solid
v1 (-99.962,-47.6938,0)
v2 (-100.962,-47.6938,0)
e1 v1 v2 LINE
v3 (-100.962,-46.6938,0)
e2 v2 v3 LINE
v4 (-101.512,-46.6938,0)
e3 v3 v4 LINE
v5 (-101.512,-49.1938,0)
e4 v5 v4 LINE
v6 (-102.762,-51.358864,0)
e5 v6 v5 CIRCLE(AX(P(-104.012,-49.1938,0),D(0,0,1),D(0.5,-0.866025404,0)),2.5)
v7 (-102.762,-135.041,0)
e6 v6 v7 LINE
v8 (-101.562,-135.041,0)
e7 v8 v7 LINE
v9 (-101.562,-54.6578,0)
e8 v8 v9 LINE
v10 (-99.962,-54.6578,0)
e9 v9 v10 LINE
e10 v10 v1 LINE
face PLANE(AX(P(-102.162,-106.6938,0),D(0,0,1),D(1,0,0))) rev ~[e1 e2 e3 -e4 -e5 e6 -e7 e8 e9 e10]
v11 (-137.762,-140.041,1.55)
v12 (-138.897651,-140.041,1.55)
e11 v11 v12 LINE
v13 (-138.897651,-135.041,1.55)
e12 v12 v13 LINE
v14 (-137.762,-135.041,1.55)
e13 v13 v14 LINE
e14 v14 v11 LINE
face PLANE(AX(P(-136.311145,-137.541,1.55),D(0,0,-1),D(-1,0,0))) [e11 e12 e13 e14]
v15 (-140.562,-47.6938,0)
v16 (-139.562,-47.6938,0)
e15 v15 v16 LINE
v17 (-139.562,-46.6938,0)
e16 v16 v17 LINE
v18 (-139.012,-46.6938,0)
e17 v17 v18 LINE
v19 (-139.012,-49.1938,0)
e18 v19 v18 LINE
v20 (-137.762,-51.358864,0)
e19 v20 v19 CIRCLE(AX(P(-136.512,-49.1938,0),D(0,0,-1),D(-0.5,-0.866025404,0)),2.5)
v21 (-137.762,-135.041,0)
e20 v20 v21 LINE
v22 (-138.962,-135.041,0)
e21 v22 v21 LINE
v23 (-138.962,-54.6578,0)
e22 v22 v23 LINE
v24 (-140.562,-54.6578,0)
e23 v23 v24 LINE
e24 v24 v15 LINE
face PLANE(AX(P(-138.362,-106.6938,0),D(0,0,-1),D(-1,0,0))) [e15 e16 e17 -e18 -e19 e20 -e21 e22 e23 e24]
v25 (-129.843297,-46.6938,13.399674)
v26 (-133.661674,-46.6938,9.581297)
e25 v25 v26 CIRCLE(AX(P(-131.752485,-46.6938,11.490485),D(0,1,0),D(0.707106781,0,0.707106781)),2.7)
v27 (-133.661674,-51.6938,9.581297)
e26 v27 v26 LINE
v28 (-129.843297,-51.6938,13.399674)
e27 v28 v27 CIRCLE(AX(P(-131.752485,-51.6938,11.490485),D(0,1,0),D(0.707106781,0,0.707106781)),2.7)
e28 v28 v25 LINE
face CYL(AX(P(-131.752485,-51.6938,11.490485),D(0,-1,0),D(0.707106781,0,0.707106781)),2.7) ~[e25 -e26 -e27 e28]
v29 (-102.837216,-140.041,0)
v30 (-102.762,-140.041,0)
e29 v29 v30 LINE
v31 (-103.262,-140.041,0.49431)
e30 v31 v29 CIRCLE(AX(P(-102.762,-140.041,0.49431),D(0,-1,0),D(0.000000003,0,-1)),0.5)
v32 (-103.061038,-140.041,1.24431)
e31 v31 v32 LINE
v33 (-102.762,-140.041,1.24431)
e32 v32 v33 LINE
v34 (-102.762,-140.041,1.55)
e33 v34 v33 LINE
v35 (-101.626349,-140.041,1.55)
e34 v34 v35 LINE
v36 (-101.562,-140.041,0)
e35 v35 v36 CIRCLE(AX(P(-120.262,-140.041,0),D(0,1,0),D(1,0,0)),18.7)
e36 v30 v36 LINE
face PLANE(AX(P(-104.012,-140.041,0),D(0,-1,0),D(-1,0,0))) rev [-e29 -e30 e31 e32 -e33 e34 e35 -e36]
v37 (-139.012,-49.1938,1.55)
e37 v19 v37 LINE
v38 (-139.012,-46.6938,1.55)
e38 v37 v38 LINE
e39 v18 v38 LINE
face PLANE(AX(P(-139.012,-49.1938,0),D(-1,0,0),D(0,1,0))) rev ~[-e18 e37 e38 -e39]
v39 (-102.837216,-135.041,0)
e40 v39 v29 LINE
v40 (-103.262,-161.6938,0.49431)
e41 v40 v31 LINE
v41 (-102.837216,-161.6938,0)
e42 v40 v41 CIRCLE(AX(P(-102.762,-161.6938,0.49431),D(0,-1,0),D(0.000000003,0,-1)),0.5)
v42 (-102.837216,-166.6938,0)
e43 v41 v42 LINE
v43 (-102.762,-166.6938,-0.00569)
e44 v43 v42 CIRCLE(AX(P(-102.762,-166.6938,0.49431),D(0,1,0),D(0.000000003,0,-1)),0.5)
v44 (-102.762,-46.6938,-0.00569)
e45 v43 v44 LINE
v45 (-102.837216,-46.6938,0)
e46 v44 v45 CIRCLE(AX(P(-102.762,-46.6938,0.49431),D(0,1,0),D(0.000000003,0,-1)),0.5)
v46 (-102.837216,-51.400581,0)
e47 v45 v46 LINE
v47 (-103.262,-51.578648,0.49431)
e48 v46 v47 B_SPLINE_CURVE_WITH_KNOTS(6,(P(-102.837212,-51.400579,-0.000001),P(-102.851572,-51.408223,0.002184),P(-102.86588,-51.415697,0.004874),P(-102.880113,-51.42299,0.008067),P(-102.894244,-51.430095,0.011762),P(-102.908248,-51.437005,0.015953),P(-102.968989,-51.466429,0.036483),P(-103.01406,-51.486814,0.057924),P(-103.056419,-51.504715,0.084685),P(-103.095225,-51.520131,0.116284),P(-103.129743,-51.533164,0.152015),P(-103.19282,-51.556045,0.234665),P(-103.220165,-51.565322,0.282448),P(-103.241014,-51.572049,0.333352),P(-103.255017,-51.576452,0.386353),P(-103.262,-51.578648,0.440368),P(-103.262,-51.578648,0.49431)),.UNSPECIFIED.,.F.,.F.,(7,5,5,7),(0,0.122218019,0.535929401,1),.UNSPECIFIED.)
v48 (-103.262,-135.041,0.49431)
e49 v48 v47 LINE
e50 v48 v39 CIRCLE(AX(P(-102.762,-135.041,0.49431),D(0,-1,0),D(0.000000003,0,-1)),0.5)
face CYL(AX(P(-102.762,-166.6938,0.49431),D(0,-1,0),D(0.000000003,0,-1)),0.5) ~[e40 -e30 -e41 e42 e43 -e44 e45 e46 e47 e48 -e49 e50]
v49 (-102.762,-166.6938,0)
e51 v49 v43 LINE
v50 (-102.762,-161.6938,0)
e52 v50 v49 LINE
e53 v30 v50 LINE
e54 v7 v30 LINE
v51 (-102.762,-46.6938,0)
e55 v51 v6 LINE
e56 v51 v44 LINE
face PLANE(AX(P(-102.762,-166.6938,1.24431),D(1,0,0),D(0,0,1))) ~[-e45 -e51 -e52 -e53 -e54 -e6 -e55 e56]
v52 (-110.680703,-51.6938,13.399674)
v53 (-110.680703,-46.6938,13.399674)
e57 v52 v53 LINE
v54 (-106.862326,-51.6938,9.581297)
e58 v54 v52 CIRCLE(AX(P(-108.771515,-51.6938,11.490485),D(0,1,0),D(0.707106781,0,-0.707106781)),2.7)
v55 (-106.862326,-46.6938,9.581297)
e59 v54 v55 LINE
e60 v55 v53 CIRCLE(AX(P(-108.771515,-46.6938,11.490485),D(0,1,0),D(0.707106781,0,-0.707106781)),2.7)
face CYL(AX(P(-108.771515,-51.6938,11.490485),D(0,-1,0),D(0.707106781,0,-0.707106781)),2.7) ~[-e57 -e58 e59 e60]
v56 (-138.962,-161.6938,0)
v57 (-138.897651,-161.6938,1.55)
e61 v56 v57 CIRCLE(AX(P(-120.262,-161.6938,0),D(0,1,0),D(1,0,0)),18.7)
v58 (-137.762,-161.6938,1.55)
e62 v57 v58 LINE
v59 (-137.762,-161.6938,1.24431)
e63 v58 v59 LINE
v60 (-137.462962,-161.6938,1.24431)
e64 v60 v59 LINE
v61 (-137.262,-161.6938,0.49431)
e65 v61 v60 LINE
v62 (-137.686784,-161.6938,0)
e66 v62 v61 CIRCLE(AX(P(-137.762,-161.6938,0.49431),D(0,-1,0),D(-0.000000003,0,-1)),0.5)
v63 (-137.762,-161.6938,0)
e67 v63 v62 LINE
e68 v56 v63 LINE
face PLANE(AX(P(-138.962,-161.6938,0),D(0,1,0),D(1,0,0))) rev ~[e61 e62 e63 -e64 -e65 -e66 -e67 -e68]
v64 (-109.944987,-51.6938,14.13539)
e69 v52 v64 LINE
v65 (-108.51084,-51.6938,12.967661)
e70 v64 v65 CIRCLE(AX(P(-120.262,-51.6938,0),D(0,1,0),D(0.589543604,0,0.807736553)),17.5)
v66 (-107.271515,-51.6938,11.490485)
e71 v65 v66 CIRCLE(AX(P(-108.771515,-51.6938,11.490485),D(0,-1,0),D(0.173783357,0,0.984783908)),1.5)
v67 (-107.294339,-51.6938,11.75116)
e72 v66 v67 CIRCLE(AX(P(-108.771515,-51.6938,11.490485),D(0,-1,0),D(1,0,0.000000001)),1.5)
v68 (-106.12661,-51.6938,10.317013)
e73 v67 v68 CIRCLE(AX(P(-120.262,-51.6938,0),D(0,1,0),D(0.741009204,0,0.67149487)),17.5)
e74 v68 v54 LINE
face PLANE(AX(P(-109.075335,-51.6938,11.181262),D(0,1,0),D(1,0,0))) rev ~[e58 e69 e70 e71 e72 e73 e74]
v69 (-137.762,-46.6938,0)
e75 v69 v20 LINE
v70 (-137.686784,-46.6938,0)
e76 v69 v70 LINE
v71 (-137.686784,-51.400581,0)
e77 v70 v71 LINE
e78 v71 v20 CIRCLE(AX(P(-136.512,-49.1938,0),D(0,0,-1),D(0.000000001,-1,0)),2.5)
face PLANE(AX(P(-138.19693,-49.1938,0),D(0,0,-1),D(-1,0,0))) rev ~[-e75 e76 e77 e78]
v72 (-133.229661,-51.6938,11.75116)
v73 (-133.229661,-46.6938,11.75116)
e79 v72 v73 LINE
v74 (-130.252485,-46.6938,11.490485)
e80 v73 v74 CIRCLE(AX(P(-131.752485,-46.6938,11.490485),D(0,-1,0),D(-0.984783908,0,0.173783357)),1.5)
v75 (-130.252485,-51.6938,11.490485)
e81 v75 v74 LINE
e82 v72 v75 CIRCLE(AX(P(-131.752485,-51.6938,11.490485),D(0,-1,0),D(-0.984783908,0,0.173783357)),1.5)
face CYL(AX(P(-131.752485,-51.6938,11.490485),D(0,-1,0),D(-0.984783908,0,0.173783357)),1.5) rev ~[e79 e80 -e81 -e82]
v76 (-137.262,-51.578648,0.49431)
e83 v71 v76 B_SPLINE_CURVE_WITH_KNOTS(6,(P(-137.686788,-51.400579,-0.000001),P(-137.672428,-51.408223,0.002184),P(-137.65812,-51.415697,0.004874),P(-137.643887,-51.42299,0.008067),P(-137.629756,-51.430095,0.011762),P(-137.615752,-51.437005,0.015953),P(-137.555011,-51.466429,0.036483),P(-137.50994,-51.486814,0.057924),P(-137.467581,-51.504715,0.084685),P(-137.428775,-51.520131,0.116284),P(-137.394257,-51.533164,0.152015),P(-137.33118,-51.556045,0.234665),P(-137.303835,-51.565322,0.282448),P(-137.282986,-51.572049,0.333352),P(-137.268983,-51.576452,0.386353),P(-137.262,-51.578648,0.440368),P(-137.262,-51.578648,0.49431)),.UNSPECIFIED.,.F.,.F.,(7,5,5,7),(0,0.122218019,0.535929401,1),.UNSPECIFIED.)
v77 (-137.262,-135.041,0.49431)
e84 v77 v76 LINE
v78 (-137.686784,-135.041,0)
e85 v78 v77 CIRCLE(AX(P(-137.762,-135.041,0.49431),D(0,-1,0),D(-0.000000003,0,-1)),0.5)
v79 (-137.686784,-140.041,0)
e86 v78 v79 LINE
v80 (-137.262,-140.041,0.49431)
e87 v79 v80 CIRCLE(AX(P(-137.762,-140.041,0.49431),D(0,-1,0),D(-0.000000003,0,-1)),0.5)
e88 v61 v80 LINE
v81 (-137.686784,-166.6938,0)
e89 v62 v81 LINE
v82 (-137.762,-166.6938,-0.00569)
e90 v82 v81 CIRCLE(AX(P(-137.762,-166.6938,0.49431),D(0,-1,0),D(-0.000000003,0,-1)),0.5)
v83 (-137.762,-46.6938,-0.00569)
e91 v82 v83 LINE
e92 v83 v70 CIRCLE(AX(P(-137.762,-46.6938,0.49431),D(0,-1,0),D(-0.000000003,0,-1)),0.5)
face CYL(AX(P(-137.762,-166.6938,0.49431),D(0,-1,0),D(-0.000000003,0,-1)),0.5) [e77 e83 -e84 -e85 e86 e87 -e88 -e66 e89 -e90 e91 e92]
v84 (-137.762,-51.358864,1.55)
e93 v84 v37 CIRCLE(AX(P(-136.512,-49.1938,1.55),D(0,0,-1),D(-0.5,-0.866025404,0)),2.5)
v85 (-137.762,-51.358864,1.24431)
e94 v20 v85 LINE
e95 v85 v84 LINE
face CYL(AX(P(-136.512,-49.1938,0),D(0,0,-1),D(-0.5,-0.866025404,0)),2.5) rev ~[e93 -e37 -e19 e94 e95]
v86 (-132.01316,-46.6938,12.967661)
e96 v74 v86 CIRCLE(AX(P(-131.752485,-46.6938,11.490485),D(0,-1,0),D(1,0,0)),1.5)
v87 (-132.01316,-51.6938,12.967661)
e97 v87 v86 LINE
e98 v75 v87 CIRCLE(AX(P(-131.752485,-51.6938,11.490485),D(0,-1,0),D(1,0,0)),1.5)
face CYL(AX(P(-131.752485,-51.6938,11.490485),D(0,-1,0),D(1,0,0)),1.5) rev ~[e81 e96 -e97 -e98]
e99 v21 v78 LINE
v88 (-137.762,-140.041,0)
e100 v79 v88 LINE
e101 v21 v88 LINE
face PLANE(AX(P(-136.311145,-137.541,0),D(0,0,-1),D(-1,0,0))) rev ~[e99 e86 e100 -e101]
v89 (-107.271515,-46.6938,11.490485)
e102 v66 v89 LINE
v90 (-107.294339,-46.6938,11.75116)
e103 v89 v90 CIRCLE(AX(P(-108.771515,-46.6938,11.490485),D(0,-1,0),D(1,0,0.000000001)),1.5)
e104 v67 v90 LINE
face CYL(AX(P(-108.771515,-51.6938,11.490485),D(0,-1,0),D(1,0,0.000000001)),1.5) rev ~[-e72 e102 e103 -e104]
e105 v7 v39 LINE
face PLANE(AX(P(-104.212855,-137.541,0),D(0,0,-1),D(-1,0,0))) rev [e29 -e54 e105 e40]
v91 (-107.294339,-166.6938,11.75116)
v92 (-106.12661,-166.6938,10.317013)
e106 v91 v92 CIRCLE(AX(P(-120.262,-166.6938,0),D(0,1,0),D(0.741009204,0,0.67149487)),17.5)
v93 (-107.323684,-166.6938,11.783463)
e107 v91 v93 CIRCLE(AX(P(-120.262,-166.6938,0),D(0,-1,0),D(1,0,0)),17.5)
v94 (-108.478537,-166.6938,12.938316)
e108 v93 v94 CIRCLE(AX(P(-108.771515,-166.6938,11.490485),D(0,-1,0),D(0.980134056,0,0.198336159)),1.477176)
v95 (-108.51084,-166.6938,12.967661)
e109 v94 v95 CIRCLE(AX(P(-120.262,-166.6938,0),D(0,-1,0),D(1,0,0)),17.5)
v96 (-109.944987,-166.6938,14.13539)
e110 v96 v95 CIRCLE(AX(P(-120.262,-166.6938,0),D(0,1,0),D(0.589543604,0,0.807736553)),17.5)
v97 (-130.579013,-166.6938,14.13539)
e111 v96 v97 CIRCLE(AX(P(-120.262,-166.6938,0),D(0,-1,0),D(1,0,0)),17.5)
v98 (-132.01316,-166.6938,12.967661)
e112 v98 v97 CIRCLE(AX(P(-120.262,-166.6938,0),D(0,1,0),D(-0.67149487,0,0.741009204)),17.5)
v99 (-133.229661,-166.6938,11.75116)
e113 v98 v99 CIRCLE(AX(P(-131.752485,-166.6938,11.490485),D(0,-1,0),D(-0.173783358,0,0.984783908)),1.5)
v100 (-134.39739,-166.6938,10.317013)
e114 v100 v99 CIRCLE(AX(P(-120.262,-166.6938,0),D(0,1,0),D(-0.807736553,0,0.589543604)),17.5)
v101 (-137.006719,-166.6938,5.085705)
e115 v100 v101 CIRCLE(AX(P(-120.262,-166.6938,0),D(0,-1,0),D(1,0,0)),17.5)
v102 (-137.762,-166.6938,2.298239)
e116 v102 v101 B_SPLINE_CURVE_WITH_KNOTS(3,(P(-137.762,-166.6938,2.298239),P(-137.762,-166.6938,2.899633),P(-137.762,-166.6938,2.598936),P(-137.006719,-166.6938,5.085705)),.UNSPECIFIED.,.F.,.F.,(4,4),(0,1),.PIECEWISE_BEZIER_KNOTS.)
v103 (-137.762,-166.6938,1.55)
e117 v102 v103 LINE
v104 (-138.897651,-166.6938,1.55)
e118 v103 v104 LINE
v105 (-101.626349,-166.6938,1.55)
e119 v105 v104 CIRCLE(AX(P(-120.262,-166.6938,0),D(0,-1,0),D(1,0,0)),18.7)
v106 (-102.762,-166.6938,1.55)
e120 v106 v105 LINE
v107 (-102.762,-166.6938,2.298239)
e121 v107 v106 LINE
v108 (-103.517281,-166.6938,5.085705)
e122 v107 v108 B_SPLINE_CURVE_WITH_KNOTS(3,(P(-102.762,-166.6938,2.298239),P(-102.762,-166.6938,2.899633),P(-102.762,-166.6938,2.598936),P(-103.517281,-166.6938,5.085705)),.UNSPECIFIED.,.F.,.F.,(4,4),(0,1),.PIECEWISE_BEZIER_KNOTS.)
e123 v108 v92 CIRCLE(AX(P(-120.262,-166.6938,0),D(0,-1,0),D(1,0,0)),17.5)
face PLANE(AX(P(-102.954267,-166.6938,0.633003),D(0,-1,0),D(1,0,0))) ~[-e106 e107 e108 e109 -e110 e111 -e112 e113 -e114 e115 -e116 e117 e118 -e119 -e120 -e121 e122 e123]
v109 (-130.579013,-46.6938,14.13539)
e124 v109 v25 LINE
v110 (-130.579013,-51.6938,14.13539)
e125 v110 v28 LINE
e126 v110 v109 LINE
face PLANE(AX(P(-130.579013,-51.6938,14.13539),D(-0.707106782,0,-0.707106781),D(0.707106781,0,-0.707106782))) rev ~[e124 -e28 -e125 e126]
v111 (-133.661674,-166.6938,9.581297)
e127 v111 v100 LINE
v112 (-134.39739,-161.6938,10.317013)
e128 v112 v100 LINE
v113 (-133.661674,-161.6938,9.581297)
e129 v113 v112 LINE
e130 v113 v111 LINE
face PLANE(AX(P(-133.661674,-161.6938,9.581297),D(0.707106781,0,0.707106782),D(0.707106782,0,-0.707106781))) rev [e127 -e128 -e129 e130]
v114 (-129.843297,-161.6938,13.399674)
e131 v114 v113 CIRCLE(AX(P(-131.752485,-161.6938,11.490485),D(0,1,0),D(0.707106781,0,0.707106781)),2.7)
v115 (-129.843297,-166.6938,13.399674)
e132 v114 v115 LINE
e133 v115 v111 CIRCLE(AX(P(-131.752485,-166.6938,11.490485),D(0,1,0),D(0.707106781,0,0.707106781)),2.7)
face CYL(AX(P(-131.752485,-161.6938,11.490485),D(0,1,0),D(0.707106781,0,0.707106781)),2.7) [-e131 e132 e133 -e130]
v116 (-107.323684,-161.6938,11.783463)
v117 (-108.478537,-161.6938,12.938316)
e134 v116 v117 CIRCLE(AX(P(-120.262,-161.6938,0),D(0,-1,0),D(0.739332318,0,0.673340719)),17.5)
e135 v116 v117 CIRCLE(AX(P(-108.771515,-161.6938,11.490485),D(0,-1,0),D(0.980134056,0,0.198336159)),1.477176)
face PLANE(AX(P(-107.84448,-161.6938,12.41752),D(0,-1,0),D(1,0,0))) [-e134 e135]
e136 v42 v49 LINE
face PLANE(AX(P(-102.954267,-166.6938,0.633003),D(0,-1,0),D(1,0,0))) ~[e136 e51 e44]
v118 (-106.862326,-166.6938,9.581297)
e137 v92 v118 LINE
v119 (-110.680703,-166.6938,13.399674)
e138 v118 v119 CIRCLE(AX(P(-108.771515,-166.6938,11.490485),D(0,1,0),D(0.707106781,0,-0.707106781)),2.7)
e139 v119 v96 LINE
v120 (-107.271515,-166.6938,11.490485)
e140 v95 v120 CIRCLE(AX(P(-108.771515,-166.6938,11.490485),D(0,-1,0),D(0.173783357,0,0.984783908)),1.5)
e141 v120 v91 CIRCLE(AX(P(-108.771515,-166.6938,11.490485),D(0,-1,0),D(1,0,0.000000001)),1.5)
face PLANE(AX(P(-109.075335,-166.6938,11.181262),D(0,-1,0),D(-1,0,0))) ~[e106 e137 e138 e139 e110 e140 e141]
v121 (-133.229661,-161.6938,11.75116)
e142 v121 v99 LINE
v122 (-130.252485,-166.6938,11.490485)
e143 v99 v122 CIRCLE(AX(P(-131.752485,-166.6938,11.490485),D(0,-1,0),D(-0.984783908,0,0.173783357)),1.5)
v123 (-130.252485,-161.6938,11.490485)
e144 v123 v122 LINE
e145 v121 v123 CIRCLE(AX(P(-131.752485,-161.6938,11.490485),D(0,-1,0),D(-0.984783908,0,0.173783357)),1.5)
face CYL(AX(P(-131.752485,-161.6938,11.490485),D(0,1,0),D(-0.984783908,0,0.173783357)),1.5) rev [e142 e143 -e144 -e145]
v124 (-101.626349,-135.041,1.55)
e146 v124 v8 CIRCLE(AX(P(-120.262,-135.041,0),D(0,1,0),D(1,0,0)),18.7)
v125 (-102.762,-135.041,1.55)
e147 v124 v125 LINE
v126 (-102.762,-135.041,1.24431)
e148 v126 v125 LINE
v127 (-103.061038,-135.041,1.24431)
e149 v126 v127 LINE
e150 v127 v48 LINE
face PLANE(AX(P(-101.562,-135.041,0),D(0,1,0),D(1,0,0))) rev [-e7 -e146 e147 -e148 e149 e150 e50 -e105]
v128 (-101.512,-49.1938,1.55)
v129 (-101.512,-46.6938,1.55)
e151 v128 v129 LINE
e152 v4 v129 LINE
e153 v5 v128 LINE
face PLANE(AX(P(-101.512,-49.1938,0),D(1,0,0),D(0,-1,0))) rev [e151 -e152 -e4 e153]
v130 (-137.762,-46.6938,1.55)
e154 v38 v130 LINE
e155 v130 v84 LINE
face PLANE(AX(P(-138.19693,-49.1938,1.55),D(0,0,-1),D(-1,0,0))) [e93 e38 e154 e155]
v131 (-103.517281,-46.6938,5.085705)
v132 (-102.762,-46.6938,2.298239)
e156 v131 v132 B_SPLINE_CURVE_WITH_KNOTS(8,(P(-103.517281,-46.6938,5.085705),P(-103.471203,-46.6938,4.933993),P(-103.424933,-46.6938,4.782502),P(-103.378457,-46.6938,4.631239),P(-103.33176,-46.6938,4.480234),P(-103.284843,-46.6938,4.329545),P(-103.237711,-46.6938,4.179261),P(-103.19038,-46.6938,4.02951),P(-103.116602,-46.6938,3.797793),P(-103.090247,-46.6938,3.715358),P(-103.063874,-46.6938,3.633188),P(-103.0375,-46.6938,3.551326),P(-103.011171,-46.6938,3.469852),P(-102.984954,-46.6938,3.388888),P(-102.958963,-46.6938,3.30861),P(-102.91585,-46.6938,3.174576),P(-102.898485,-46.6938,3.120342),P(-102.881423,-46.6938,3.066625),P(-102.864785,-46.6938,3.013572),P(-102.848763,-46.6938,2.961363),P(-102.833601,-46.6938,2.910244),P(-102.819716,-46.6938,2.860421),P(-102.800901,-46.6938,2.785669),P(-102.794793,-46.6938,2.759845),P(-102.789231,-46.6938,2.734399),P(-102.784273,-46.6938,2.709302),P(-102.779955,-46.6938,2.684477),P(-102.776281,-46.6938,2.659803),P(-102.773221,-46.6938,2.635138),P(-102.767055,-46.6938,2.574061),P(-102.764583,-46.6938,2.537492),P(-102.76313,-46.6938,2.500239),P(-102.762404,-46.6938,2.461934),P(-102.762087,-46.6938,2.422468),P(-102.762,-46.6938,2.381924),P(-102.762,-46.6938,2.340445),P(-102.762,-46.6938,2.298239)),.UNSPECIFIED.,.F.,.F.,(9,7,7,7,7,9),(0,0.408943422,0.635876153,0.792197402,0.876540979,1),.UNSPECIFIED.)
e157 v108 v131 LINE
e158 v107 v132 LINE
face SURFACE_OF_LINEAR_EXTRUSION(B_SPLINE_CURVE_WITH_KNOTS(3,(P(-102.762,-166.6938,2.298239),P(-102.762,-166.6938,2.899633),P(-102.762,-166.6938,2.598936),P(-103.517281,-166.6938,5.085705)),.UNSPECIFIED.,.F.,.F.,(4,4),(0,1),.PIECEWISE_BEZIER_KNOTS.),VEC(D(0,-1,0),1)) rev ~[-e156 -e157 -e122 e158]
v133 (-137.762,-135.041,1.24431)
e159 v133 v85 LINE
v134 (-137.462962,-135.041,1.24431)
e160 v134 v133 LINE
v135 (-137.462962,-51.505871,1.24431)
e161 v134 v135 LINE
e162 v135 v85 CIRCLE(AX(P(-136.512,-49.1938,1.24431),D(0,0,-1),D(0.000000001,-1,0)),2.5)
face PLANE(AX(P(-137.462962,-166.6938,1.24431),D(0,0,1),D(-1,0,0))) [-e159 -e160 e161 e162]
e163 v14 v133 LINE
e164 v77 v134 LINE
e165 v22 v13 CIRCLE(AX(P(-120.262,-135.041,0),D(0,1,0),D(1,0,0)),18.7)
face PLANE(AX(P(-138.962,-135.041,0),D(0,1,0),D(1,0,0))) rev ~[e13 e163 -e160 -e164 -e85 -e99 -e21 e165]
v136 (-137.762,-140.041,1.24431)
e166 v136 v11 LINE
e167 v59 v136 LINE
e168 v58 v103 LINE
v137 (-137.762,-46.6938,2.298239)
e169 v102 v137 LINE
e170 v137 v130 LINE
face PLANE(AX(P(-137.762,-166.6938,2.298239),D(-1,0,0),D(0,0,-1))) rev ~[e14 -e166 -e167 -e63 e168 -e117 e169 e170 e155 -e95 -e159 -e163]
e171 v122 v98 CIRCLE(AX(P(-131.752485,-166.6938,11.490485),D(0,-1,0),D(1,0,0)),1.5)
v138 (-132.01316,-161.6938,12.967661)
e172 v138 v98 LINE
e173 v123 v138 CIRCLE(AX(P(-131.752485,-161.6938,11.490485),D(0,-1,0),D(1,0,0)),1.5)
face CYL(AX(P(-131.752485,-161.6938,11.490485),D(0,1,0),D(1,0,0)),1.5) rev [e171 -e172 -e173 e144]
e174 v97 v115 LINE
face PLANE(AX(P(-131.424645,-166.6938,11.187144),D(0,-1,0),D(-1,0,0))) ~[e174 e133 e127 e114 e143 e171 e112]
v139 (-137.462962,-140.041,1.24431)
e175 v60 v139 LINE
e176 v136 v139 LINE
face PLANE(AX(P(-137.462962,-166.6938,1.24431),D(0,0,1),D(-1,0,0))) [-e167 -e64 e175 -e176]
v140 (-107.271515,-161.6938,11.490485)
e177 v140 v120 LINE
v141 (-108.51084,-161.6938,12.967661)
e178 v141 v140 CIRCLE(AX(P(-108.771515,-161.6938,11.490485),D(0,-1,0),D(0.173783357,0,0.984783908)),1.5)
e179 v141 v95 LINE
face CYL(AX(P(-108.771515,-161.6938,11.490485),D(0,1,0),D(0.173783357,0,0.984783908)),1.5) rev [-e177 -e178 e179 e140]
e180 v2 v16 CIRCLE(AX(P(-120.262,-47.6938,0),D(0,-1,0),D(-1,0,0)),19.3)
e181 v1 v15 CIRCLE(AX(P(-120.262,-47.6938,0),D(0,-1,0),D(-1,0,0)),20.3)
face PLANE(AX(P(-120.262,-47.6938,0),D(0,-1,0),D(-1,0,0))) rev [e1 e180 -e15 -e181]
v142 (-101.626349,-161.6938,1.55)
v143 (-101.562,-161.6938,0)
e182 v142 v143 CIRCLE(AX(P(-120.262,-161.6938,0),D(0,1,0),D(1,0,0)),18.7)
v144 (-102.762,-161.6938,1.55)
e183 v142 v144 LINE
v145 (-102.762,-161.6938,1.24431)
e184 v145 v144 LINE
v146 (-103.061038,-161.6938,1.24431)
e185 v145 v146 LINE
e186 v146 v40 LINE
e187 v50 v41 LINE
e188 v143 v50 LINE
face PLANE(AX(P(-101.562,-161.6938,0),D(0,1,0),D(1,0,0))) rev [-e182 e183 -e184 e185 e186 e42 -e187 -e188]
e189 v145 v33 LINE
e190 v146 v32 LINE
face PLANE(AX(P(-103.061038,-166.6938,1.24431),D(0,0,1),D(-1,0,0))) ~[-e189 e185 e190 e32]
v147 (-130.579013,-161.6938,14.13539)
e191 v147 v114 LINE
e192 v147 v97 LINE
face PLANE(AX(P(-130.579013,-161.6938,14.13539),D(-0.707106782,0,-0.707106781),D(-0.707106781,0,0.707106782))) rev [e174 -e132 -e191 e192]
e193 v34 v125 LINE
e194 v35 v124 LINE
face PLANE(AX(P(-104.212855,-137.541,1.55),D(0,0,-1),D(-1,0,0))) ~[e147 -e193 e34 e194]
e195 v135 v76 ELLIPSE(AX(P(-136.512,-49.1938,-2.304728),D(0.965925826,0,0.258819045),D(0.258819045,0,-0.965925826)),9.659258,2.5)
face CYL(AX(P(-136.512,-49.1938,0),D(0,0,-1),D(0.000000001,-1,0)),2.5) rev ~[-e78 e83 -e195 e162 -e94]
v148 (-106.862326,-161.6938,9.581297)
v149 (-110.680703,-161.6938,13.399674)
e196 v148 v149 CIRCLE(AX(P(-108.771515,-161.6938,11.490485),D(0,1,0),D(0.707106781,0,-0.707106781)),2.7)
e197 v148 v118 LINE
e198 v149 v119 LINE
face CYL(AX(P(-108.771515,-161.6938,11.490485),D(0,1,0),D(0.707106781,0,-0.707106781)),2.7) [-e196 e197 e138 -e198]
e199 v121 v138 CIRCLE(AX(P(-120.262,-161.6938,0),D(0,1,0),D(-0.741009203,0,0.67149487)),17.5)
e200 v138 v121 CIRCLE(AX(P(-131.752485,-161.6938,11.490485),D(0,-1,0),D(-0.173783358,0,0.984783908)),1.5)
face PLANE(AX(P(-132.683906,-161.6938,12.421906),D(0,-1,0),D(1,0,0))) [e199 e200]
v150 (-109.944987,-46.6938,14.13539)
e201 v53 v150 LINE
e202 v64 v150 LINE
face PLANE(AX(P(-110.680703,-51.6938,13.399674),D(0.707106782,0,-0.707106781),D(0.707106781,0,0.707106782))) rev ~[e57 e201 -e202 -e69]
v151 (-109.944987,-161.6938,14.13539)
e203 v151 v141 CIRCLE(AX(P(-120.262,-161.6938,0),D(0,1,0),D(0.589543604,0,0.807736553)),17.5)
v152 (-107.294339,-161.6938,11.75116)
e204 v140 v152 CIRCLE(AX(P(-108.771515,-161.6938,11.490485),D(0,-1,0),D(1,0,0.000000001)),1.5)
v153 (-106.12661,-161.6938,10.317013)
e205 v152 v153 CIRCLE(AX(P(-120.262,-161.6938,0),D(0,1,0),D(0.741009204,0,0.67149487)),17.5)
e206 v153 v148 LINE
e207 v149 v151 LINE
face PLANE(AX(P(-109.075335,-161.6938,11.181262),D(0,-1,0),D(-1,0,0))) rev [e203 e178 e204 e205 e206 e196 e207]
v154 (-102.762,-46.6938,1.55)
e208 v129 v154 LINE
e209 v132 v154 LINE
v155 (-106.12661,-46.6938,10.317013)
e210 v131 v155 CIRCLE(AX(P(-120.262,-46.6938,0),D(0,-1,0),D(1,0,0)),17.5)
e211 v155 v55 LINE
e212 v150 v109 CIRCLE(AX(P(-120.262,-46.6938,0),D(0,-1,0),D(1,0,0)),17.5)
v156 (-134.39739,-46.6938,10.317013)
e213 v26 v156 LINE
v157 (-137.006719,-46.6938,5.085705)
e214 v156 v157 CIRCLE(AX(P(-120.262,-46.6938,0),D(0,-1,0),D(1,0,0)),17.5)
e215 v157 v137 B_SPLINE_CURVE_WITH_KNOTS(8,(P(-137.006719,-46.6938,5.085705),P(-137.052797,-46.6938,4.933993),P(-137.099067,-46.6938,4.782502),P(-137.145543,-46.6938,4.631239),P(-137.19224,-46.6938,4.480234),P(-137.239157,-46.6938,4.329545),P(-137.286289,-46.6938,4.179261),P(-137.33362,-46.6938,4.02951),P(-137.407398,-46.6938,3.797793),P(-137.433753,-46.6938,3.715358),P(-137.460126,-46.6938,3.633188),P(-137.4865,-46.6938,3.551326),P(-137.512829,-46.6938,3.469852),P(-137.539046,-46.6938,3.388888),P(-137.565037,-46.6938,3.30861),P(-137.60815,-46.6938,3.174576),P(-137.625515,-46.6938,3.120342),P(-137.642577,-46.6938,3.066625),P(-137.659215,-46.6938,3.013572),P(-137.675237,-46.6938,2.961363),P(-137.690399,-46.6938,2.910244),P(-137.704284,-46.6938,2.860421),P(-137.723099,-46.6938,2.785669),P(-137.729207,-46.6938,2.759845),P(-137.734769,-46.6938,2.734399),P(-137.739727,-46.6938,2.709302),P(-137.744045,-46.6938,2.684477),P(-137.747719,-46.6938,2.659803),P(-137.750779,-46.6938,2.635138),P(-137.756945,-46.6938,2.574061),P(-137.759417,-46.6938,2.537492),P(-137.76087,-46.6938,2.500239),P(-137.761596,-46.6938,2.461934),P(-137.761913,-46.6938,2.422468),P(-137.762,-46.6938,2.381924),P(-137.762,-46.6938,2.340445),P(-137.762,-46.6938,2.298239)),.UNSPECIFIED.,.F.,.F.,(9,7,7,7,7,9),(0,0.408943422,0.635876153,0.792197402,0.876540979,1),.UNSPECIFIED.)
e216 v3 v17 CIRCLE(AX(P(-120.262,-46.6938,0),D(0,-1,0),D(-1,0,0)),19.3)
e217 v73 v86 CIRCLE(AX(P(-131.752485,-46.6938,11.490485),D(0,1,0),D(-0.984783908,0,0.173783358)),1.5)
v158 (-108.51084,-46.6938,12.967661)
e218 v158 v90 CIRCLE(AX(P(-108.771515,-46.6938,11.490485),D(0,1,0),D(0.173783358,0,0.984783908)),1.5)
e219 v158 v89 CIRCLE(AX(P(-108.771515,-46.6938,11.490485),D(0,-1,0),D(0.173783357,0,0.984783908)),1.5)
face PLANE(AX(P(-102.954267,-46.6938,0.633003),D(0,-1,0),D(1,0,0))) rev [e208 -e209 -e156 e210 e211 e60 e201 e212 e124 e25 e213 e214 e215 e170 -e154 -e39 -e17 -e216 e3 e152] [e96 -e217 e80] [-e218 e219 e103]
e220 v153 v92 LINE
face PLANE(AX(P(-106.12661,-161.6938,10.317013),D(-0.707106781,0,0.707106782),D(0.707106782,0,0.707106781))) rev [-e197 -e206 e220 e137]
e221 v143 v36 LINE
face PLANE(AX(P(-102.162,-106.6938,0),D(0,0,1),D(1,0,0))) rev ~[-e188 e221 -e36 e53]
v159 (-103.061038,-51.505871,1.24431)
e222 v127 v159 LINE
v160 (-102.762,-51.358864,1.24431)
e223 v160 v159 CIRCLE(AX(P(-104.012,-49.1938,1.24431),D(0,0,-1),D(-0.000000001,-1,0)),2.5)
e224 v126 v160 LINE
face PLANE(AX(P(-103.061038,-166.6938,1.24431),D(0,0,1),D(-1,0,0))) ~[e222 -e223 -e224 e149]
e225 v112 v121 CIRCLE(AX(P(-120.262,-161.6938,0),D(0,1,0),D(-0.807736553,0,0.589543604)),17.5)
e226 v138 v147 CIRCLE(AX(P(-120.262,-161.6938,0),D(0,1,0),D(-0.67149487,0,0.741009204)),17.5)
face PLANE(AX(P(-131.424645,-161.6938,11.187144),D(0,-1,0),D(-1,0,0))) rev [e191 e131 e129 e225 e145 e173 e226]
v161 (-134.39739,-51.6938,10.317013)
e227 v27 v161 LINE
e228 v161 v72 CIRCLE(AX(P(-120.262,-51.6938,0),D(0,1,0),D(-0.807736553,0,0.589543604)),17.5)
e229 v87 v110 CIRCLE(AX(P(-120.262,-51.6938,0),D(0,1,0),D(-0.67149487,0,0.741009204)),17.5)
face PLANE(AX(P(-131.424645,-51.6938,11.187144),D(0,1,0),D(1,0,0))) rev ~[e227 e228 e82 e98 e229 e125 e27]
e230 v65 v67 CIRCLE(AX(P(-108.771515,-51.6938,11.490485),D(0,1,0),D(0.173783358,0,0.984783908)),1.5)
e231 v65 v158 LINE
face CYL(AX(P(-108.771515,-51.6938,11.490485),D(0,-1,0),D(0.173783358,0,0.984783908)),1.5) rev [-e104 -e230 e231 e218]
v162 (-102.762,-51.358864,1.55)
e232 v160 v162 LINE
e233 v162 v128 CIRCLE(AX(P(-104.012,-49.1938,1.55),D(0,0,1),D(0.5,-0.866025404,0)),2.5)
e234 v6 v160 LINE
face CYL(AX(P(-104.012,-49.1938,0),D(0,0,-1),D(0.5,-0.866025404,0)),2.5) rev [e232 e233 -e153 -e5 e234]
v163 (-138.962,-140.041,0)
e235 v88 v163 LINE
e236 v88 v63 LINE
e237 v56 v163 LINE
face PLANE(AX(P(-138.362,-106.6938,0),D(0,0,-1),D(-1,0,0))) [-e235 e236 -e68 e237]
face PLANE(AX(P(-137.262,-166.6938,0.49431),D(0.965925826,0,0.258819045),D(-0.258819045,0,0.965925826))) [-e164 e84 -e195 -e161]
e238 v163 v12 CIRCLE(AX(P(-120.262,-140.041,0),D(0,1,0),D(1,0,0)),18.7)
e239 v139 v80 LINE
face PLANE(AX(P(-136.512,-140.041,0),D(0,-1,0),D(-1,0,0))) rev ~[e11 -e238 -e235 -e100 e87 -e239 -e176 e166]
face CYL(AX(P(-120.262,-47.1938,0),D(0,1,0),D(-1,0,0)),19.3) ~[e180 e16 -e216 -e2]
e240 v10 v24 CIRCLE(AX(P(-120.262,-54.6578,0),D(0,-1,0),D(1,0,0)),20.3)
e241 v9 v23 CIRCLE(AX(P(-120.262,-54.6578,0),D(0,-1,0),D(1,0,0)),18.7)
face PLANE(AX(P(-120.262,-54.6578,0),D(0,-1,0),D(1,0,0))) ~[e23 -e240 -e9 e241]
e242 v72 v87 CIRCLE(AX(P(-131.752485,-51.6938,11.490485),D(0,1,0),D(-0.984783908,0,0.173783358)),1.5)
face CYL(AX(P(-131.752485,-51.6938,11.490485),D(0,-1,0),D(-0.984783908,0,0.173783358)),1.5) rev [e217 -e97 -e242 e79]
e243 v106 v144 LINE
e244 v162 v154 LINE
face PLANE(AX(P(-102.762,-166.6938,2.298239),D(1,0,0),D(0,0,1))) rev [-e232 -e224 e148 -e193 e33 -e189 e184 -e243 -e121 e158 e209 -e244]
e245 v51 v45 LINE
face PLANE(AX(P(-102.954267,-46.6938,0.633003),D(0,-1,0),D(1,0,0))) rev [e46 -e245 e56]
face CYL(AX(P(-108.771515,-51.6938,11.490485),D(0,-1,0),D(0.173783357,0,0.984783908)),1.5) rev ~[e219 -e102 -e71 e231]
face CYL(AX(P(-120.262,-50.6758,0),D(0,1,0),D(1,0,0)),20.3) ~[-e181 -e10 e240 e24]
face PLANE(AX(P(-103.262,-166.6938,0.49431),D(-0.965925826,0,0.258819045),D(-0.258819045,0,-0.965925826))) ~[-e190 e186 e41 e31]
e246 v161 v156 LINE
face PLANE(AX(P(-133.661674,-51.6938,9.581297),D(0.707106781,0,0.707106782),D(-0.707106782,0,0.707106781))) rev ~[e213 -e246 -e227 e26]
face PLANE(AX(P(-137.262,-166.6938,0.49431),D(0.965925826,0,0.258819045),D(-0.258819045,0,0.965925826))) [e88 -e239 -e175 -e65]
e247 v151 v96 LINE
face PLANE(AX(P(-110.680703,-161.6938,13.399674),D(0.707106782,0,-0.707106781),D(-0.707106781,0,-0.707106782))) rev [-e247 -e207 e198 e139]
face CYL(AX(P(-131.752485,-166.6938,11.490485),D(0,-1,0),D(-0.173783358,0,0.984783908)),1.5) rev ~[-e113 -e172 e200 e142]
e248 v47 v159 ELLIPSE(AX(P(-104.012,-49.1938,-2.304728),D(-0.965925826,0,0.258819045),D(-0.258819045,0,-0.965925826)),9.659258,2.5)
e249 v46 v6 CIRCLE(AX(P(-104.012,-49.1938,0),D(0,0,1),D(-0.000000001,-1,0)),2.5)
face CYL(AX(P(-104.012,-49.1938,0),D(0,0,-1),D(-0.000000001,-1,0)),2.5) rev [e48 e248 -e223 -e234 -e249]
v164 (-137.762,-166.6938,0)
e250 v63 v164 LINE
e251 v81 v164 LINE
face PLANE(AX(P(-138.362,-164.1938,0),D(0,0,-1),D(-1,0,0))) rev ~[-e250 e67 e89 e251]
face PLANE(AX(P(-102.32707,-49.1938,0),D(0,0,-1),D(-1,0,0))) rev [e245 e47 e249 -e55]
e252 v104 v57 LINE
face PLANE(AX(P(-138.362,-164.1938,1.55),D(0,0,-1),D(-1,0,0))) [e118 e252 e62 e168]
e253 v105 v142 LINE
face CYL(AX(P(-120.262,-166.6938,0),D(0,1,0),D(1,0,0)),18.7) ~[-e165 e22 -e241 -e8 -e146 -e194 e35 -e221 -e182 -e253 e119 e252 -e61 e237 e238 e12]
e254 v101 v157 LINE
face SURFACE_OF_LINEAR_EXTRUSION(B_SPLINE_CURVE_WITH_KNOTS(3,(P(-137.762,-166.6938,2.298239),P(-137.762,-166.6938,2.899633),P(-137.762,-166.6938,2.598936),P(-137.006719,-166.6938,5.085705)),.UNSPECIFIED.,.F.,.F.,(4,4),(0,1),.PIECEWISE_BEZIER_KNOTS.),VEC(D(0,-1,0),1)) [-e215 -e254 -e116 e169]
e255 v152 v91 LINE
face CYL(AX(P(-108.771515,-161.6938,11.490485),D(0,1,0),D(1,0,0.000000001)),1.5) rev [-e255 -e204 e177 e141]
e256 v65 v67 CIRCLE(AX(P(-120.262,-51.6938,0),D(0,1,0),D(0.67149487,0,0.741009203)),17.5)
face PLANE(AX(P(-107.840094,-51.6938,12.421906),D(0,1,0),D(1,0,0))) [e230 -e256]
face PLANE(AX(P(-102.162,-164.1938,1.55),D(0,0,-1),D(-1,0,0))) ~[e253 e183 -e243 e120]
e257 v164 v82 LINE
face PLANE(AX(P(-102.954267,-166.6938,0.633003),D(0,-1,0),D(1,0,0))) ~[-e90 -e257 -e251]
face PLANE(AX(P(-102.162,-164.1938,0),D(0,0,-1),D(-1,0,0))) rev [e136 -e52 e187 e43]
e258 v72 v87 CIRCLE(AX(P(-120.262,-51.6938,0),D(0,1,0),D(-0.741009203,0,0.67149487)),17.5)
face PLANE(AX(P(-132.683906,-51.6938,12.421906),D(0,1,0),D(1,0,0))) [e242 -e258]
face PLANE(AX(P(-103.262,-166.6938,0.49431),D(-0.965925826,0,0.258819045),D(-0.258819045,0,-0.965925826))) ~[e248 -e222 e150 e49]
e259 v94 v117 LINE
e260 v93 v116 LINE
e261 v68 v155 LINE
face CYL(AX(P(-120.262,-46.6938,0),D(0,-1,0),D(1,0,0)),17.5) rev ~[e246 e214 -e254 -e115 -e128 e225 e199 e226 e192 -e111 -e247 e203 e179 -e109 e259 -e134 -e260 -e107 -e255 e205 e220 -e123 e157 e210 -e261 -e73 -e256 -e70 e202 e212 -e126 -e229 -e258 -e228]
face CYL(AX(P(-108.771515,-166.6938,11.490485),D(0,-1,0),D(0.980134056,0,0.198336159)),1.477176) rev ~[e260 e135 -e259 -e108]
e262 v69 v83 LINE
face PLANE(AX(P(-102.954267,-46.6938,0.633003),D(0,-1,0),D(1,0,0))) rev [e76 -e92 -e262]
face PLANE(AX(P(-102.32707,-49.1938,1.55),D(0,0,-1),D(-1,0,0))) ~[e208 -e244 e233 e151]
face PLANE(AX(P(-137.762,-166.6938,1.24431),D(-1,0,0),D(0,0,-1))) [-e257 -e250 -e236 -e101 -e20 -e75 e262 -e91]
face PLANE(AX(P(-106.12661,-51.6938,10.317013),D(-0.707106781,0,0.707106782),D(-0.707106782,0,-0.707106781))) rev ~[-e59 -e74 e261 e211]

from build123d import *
from build123d.topology import SkipClean

# Parameters (mm, degrees)
SKETCH1_W           = 1.6
SKETCH1_H           = 7.964
REVOLVE1_ANGLE      = 180
SKETCH14_W          = 1
SKETCH14_H          = 1
CUT_EXTRUDE1_DEPTH  = 186.929464701
BOSS_EXTRUDE1_DEPTH = 120
SKETCH18_W          = 1.2
SKETCH18_H          = 5
CUT_EXTRUDE2_DEPTH  = 1.55
BOSS_EXTRUDE2_START = -5
BOSS_EXTRUDE2_DEPTH = 5
CUT_EXTRUDE3_START  = -5
CUT_EXTRUDE3_DEPTH  = 5
CUT_EXTRUDE4_DEPTH  = 5


with BuildPart() as part:
    # Sketch1 → Revolve1 (revolve)
    with BuildSketch(Plane.XY):
        Polygon((-102.762, -166.6938), (-101.562, -166.6938), (-101.562, -54.6578), (-101.562, -46.6938), (-102.762, -46.6938), align=None)
        with Locations((-100.762, -50.6758)):
            Rectangle(SKETCH1_W, SKETCH1_H)
    revolve(axis=Axis((-120.262, -49.1938, 0), (0, -1, 0)), revolution_arc=REVOLVE1_ANGLE)

    # Sketch14 → Cut-Revolve1 (revolve, cut)
    with BuildSketch(Plane(origin=(0, 0, 0), x_dir=(-1, 0, 0), z_dir=(0, 0, -1))):
        with Locations((140.062, -47.1938)):
            Rectangle(SKETCH14_W, SKETCH14_H)
    revolve(axis=Axis((-120.262, -49.1938, 0), (0, -1, 0)), mode=Mode.SUBTRACT)

    # Sketch16 → Cut-Extrude1 (cut, through all)
    with BuildSketch(Plane.XZ.offset(166.6938)):
        with BuildLine():
            ThreePointArc((-137.00671868, 5.085705096), (-137.469221704, 3.187714109), (-137.717300055, 1.25))
            Line((-137.717300055, 1.25), (-137.137, 1.25))
            Line((-137.137, 1.25), (-137.00671868, 5.085705096))
        make_face()
        with BuildLine():
            Line((-137.762, 2.298239247), (-137.762, 1.25))
            Line((-137.762, 1.25), (-137.717300055, 1.25))
            ThreePointArc((-137.717300055, 1.25), (-137.469221704, 3.187714109), (-137.00671868, 5.085705096))
            add(Edge.make_bspline(
                [(-137.762, 2.298239247), (-137.762, 2.899633162), (-137.762, 2.598936204), (-137.00671868, 5.085705096)],
                knots=[0, 0, 0, 0, 1, 1, 1, 1], degree=3))
        make_face()
        with BuildLine():
            Line((-137.762, 1.25), (-137.762, 0))
            ThreePointArc((-137.762, 0), (-137.750821443, 0.625399489), (-137.717300055, 1.25))
            Line((-137.717300055, 1.25), (-137.762, 1.25))
        make_face()
        with BuildLine():
            ThreePointArc((-137.717300055, 1.25), (-137.750821443, 0.625399489), (-137.762, 0))
            Line((-137.762, 0), (-136.512, 0))
            Line((-136.512, 0), (-136.512, 1.25))
            Line((-136.512, 1.25), (-137.137, 1.25))
            Line((-137.137, 1.25), (-137.717300055, 1.25))
        make_face()
    cut_extrude1 = extrude(amount=-CUT_EXTRUDE1_DEPTH, mode=Mode.SUBTRACT)

    # Sketch17 → Boss-Extrude1 (add)
    with BuildSketch(Plane.XZ.offset(166.6938)):
        with BuildLine():
            Line((-137.262, 0.494310199), (-137.462961894, 1.244310199))
            Line((-137.462961894, 1.244310199), (-137.762, 1.244310199))
            Line((-137.762, 1.244310199), (-137.762, -0.005689801))
            ThreePointArc((-137.762, -0.005689801), (-137.408446609, 0.140756808), (-137.262, 0.494310199))
        make_face()
    boss_extrude1 = extrude(amount=-BOSS_EXTRUDE1_DEPTH)

    # Mirror1: Cut-Extrude1, Boss-Extrude1 across plane
    add(cut_extrude1.mirror(Plane(origin=(-120.262, 0, 0), x_dir=(0, 0, 1), z_dir=(1, 0, 0))), mode=Mode.SUBTRACT)
    add(boss_extrude1.mirror(Plane(origin=(-120.262, 0, 0), x_dir=(0, 0, 1), z_dir=(1, 0, 0))))

    # Sketch18 → Cut-Extrude2 (cut)
    with BuildSketch(Plane(origin=(0, 0, 0), x_dir=(-1, 0, 0), z_dir=(0, 0, -1))):
        with Locations((138.362, -164.1938)):
            Rectangle(SKETCH18_W, SKETCH18_H)
        with BuildLine():
            Line((137.762, -166.6938), (137.762, -161.6938))
            Line((137.762, -161.6938), (136.512, -161.6938))
            ThreePointArc((136.512, -161.6938), (134.012, -164.19379996), (136.51199992, -166.6938))
            Line((136.51199992, -166.6938), (137.762, -166.6938))
        make_face()
        with BuildLine():
            Line((137.762, -140.041), (137.762, -135.041))
            Line((137.762, -135.041), (136.512, -135.041))
            ThreePointArc((136.512, -135.041), (134.012, -137.541), (136.512, -140.041))
            Line((136.512, -140.041), (137.762, -140.041))
        make_face()
        with Locations((138.362, -137.541)):
            Rectangle(SKETCH18_W, SKETCH18_H)
        with BuildLine():
            ThreePointArc((137.762, -51.358863509), (138.677063509, -50.4438), (139.012, -49.1938))
            ThreePointArc((139.012, -49.1938), (138.677063509, -47.9438), (137.762, -47.028736491))
            Line((137.762, -47.028736491), (137.762, -51.358863509))
        make_face()
        with BuildLine():
            Line((137.762, -51.358863509), (137.762, -47.028736491))
            ThreePointArc((137.762, -47.028736491), (137.159047613, -46.778985434), (136.512, -46.6938))
            ThreePointArc((136.512, -46.6938), (134.012, -49.1938), (136.512, -51.6938))
            ThreePointArc((136.512, -51.6938), (137.159047613, -51.608614566), (137.762, -51.358863509))
        make_face()
        with BuildLine():
            ThreePointArc((137.762, -51.358863509), (138.677063509, -50.4438), (139.012, -49.1938))
            ThreePointArc((139.012, -49.1938), (138.677063509, -47.9438), (137.762, -47.028736491))
            Line((137.762, -47.028736491), (137.762, -51.358863509))
        make_face()
        with BuildLine():
            Line((137.762, -51.358863509), (137.762, -47.028736491))
            ThreePointArc((137.762, -47.028736491), (137.159047613, -46.778985434), (136.512, -46.6938))
            ThreePointArc((136.512, -46.6938), (134.012, -49.1938), (136.512, -51.6938))
            ThreePointArc((136.512, -51.6938), (137.159047613, -51.608614566), (137.762, -51.358863509))
        make_face()
        with BuildLine():
            ThreePointArc((137.762, -47.028736491), (138.677063509, -47.9438), (139.012, -49.1938))
            Line((139.012, -49.1938), (139.012, -46.6938))
            Line((139.012, -46.6938), (137.762, -46.6938))
            Line((137.762, -46.6938), (137.762, -47.028736491))
        make_face()
        with BuildLine():
            ThreePointArc((136.512, -46.6938), (137.159047613, -46.778985434), (137.762, -47.028736491))
            Line((137.762, -47.028736491), (137.762, -46.6938))
            Line((137.762, -46.6938), (136.512, -46.6938))
        make_face()
    cut_extrude2 = extrude(amount=-CUT_EXTRUDE2_DEPTH, mode=Mode.SUBTRACT)

    # Mirror2: Cut-Extrude2 across plane
    add(cut_extrude2.mirror(Plane(origin=(-120.262, 0, 0), x_dir=(0, 0, 1), z_dir=(1, 0, 0))), mode=Mode.SUBTRACT)

    # Sketch19 → Boss-Extrude2 (add)
    with BuildSketch(Plane(origin=(0, -46.6938, 0), x_dir=(1, 0, 0), z_dir=(0, 1, 0)).offset(BOSS_EXTRUDE2_START)):
        with BuildLine():
            Line((-130.579013063, -14.135389682), (-129.843296885, -13.399673503))
            ThreePointArc((-129.843296885, -13.399673503), (-129.843296885, -9.581296885), (-133.661673503, -9.581296885))
            Line((-133.661673503, -9.581296885), (-134.397389682, -10.317013063))
            ThreePointArc((-134.397389682, -10.317013063), (-133.832483939, -11.049523323), (-133.229661056, -11.75116023))
            ThreePointArc((-133.229661056, -11.75116023), (-131.883321366, -9.996202123), (-130.252485194, -11.490485194))
            ThreePointArc((-130.252485194, -11.490485194), (-130.788382646, -12.639618031), (-132.01316023, -12.967661056))
            ThreePointArc((-132.01316023, -12.967661056), (-131.311523323, -13.570483939), (-130.579013063, -14.135389682))
        make_face()
        with BuildLine():
            Line((-110.680703115, -13.399673503), (-109.944986937, -14.135389682))
            ThreePointArc((-109.944986937, -14.135389682), (-109.212476677, -13.570483939), (-108.51083977, -12.967661056))
            ThreePointArc((-108.51083977, -12.967661056), (-109.920647642, -10.526382646), (-107.271514806, -11.490485194))
            ThreePointArc((-107.271514806, -11.490485194), (-107.277231735, -11.621321366), (-107.294338944, -11.75116023))
            ThreePointArc((-107.294338944, -11.75116023), (-106.691516061, -11.049523323), (-106.126610318, -10.317013063))
            Line((-106.126610318, -10.317013063), (-106.862326497, -9.581296885))
            ThreePointArc((-106.862326497, -9.581296885), (-110.680703115, -9.581296885), (-110.680703115, -13.399673503))
        make_face()
    boss_extrude2 = extrude(amount=BOSS_EXTRUDE2_DEPTH)

    # Sketch20 → Cut-Extrude3 (cut)
    with SkipClean():  # the faces are left unmerged after this step: merging them gives an invalid solid
        with BuildSketch(Plane(origin=(0, -46.6938, 0), x_dir=(1, 0, 0), z_dir=(0, 1, 0)).offset(CUT_EXTRUDE3_START)):
            with BuildLine():
                ThreePointArc((-108.51083977, -12.967661056), (-107.887631329, -12.374368671), (-107.294338944, -11.75116023))
                ThreePointArc((-107.294338944, -11.75116023), (-107.277231735, -11.621321366), (-107.271514806, -11.490485194))
                ThreePointArc((-107.271514806, -11.490485194), (-109.920647642, -10.526382646), (-108.51083977, -12.967661056))
            make_face()
            with BuildLine():
                ThreePointArc((-108.51083977, -12.967661056), (-107.710854634, -12.551145366), (-107.294338944, -11.75116023))
                ThreePointArc((-107.294338944, -11.75116023), (-107.887631329, -12.374368671), (-108.51083977, -12.967661056))
            make_face()
            with BuildLine():
                ThreePointArc((-133.229661056, -11.75116023), (-132.636368671, -12.374368671), (-132.01316023, -12.967661056))
                ThreePointArc((-132.01316023, -12.967661056), (-130.788382646, -12.639618031), (-130.252485194, -11.490485194))
                ThreePointArc((-130.252485194, -11.490485194), (-131.883321366, -9.996202123), (-133.229661056, -11.75116023))
            make_face()
            with BuildLine():
                ThreePointArc((-133.229661056, -11.75116023), (-132.813145366, -12.551145366), (-132.01316023, -12.967661056))
                ThreePointArc((-132.01316023, -12.967661056), (-132.636368671, -12.374368671), (-133.229661056, -11.75116023))
            make_face()
            with BuildLine():
                ThreePointArc((-132.01316023, -12.967661056), (-132.636368671, -12.374368671), (-133.229661056, -11.75116023))
                ThreePointArc((-133.229661056, -11.75116023), (-130.691825023, -10.429825023), (-132.01316023, -12.967661056))
            make_face()
            with BuildLine():
                ThreePointArc((-108.51083977, -12.967661056), (-109.832174977, -10.429825023), (-107.294338944, -11.75116023))
                ThreePointArc((-107.294338944, -11.75116023), (-107.887631329, -12.374368671), (-108.51083977, -12.967661056))
            make_face()
        extrude(amount=CUT_EXTRUDE3_DEPTH, mode=Mode.SUBTRACT)

    # Mirror3: Boss-Extrude2 across plane
    with SkipClean():  # the faces are left unmerged after this step: merging them gives an invalid solid
        add(boss_extrude2.mirror(Plane.ZX.offset(-106.6938)))

    # Sketch21 → Cut-Extrude4 (cut)
    with SkipClean():  # the faces are left unmerged after this step: merging them gives an invalid solid
        with BuildSketch(Plane.XZ.offset(166.6938)):
            with BuildLine():
                ThreePointArc((-107.323684437, 11.783462581), (-107.887631329, 12.374368671), (-108.478537419, 12.938315563))
                ThreePointArc((-108.478537419, 12.938315563), (-109.914936786, 10.555266128), (-107.294338944, 11.490485194))
                ThreePointArc((-107.294338944, 11.490485194), (-107.301693626, 11.637706887), (-107.323684437, 11.783462581))
            make_face()
            with BuildLine():
                ThreePointArc((-107.323684437, 11.783462581), (-107.726993737, 12.535006263), (-108.478537419, 12.938315563))
                ThreePointArc((-108.478537419, 12.938315563), (-107.887631329, 12.374368671), (-107.323684437, 11.783462581))
            make_face()
            with BuildLine():
                ThreePointArc((-107.323684437, 11.783462581), (-107.887631329, 12.374368671), (-108.478537419, 12.938315563))
                ThreePointArc((-108.478537419, 12.938315563), (-109.914936786, 10.555266128), (-107.294338944, 11.490485194))
                ThreePointArc((-107.294338944, 11.490485194), (-107.301693626, 11.637706887), (-107.323684437, 11.783462581))
            make_face()
            with BuildLine():
                ThreePointArc((-107.323684437, 11.783462581), (-107.726993737, 12.535006263), (-108.478537419, 12.938315563))
                ThreePointArc((-108.478537419, 12.938315563), (-107.887631329, 12.374368671), (-107.323684437, 11.783462581))
            make_face()
            with BuildLine():
                ThreePointArc((-132.01316023, 12.967661056), (-130.691825023, 10.429825023), (-133.229661056, 11.75116023))
                ThreePointArc((-133.229661056, 11.75116023), (-132.636368671, 12.374368671), (-132.01316023, 12.967661056))
            make_face()
            with BuildLine():
                ThreePointArc((-132.01316023, 12.967661056), (-132.636368671, 12.374368671), (-133.229661056, 11.75116023))
                ThreePointArc((-133.229661056, 11.75116023), (-131.883321366, 9.996202123), (-130.252485194, 11.490485194))
                ThreePointArc((-130.252485194, 11.490485194), (-130.788382646, 12.639618031), (-132.01316023, 12.967661056))
            make_face()
            with BuildLine():
                ThreePointArc((-132.01316023, 12.967661056), (-132.813145366, 12.551145366), (-133.229661056, 11.75116023))
                ThreePointArc((-133.229661056, 11.75116023), (-132.636368671, 12.374368671), (-132.01316023, 12.967661056))
            make_face()
        extrude(amount=-CUT_EXTRUDE4_DEPTH, mode=Mode.SUBTRACT)


solid = part.part
